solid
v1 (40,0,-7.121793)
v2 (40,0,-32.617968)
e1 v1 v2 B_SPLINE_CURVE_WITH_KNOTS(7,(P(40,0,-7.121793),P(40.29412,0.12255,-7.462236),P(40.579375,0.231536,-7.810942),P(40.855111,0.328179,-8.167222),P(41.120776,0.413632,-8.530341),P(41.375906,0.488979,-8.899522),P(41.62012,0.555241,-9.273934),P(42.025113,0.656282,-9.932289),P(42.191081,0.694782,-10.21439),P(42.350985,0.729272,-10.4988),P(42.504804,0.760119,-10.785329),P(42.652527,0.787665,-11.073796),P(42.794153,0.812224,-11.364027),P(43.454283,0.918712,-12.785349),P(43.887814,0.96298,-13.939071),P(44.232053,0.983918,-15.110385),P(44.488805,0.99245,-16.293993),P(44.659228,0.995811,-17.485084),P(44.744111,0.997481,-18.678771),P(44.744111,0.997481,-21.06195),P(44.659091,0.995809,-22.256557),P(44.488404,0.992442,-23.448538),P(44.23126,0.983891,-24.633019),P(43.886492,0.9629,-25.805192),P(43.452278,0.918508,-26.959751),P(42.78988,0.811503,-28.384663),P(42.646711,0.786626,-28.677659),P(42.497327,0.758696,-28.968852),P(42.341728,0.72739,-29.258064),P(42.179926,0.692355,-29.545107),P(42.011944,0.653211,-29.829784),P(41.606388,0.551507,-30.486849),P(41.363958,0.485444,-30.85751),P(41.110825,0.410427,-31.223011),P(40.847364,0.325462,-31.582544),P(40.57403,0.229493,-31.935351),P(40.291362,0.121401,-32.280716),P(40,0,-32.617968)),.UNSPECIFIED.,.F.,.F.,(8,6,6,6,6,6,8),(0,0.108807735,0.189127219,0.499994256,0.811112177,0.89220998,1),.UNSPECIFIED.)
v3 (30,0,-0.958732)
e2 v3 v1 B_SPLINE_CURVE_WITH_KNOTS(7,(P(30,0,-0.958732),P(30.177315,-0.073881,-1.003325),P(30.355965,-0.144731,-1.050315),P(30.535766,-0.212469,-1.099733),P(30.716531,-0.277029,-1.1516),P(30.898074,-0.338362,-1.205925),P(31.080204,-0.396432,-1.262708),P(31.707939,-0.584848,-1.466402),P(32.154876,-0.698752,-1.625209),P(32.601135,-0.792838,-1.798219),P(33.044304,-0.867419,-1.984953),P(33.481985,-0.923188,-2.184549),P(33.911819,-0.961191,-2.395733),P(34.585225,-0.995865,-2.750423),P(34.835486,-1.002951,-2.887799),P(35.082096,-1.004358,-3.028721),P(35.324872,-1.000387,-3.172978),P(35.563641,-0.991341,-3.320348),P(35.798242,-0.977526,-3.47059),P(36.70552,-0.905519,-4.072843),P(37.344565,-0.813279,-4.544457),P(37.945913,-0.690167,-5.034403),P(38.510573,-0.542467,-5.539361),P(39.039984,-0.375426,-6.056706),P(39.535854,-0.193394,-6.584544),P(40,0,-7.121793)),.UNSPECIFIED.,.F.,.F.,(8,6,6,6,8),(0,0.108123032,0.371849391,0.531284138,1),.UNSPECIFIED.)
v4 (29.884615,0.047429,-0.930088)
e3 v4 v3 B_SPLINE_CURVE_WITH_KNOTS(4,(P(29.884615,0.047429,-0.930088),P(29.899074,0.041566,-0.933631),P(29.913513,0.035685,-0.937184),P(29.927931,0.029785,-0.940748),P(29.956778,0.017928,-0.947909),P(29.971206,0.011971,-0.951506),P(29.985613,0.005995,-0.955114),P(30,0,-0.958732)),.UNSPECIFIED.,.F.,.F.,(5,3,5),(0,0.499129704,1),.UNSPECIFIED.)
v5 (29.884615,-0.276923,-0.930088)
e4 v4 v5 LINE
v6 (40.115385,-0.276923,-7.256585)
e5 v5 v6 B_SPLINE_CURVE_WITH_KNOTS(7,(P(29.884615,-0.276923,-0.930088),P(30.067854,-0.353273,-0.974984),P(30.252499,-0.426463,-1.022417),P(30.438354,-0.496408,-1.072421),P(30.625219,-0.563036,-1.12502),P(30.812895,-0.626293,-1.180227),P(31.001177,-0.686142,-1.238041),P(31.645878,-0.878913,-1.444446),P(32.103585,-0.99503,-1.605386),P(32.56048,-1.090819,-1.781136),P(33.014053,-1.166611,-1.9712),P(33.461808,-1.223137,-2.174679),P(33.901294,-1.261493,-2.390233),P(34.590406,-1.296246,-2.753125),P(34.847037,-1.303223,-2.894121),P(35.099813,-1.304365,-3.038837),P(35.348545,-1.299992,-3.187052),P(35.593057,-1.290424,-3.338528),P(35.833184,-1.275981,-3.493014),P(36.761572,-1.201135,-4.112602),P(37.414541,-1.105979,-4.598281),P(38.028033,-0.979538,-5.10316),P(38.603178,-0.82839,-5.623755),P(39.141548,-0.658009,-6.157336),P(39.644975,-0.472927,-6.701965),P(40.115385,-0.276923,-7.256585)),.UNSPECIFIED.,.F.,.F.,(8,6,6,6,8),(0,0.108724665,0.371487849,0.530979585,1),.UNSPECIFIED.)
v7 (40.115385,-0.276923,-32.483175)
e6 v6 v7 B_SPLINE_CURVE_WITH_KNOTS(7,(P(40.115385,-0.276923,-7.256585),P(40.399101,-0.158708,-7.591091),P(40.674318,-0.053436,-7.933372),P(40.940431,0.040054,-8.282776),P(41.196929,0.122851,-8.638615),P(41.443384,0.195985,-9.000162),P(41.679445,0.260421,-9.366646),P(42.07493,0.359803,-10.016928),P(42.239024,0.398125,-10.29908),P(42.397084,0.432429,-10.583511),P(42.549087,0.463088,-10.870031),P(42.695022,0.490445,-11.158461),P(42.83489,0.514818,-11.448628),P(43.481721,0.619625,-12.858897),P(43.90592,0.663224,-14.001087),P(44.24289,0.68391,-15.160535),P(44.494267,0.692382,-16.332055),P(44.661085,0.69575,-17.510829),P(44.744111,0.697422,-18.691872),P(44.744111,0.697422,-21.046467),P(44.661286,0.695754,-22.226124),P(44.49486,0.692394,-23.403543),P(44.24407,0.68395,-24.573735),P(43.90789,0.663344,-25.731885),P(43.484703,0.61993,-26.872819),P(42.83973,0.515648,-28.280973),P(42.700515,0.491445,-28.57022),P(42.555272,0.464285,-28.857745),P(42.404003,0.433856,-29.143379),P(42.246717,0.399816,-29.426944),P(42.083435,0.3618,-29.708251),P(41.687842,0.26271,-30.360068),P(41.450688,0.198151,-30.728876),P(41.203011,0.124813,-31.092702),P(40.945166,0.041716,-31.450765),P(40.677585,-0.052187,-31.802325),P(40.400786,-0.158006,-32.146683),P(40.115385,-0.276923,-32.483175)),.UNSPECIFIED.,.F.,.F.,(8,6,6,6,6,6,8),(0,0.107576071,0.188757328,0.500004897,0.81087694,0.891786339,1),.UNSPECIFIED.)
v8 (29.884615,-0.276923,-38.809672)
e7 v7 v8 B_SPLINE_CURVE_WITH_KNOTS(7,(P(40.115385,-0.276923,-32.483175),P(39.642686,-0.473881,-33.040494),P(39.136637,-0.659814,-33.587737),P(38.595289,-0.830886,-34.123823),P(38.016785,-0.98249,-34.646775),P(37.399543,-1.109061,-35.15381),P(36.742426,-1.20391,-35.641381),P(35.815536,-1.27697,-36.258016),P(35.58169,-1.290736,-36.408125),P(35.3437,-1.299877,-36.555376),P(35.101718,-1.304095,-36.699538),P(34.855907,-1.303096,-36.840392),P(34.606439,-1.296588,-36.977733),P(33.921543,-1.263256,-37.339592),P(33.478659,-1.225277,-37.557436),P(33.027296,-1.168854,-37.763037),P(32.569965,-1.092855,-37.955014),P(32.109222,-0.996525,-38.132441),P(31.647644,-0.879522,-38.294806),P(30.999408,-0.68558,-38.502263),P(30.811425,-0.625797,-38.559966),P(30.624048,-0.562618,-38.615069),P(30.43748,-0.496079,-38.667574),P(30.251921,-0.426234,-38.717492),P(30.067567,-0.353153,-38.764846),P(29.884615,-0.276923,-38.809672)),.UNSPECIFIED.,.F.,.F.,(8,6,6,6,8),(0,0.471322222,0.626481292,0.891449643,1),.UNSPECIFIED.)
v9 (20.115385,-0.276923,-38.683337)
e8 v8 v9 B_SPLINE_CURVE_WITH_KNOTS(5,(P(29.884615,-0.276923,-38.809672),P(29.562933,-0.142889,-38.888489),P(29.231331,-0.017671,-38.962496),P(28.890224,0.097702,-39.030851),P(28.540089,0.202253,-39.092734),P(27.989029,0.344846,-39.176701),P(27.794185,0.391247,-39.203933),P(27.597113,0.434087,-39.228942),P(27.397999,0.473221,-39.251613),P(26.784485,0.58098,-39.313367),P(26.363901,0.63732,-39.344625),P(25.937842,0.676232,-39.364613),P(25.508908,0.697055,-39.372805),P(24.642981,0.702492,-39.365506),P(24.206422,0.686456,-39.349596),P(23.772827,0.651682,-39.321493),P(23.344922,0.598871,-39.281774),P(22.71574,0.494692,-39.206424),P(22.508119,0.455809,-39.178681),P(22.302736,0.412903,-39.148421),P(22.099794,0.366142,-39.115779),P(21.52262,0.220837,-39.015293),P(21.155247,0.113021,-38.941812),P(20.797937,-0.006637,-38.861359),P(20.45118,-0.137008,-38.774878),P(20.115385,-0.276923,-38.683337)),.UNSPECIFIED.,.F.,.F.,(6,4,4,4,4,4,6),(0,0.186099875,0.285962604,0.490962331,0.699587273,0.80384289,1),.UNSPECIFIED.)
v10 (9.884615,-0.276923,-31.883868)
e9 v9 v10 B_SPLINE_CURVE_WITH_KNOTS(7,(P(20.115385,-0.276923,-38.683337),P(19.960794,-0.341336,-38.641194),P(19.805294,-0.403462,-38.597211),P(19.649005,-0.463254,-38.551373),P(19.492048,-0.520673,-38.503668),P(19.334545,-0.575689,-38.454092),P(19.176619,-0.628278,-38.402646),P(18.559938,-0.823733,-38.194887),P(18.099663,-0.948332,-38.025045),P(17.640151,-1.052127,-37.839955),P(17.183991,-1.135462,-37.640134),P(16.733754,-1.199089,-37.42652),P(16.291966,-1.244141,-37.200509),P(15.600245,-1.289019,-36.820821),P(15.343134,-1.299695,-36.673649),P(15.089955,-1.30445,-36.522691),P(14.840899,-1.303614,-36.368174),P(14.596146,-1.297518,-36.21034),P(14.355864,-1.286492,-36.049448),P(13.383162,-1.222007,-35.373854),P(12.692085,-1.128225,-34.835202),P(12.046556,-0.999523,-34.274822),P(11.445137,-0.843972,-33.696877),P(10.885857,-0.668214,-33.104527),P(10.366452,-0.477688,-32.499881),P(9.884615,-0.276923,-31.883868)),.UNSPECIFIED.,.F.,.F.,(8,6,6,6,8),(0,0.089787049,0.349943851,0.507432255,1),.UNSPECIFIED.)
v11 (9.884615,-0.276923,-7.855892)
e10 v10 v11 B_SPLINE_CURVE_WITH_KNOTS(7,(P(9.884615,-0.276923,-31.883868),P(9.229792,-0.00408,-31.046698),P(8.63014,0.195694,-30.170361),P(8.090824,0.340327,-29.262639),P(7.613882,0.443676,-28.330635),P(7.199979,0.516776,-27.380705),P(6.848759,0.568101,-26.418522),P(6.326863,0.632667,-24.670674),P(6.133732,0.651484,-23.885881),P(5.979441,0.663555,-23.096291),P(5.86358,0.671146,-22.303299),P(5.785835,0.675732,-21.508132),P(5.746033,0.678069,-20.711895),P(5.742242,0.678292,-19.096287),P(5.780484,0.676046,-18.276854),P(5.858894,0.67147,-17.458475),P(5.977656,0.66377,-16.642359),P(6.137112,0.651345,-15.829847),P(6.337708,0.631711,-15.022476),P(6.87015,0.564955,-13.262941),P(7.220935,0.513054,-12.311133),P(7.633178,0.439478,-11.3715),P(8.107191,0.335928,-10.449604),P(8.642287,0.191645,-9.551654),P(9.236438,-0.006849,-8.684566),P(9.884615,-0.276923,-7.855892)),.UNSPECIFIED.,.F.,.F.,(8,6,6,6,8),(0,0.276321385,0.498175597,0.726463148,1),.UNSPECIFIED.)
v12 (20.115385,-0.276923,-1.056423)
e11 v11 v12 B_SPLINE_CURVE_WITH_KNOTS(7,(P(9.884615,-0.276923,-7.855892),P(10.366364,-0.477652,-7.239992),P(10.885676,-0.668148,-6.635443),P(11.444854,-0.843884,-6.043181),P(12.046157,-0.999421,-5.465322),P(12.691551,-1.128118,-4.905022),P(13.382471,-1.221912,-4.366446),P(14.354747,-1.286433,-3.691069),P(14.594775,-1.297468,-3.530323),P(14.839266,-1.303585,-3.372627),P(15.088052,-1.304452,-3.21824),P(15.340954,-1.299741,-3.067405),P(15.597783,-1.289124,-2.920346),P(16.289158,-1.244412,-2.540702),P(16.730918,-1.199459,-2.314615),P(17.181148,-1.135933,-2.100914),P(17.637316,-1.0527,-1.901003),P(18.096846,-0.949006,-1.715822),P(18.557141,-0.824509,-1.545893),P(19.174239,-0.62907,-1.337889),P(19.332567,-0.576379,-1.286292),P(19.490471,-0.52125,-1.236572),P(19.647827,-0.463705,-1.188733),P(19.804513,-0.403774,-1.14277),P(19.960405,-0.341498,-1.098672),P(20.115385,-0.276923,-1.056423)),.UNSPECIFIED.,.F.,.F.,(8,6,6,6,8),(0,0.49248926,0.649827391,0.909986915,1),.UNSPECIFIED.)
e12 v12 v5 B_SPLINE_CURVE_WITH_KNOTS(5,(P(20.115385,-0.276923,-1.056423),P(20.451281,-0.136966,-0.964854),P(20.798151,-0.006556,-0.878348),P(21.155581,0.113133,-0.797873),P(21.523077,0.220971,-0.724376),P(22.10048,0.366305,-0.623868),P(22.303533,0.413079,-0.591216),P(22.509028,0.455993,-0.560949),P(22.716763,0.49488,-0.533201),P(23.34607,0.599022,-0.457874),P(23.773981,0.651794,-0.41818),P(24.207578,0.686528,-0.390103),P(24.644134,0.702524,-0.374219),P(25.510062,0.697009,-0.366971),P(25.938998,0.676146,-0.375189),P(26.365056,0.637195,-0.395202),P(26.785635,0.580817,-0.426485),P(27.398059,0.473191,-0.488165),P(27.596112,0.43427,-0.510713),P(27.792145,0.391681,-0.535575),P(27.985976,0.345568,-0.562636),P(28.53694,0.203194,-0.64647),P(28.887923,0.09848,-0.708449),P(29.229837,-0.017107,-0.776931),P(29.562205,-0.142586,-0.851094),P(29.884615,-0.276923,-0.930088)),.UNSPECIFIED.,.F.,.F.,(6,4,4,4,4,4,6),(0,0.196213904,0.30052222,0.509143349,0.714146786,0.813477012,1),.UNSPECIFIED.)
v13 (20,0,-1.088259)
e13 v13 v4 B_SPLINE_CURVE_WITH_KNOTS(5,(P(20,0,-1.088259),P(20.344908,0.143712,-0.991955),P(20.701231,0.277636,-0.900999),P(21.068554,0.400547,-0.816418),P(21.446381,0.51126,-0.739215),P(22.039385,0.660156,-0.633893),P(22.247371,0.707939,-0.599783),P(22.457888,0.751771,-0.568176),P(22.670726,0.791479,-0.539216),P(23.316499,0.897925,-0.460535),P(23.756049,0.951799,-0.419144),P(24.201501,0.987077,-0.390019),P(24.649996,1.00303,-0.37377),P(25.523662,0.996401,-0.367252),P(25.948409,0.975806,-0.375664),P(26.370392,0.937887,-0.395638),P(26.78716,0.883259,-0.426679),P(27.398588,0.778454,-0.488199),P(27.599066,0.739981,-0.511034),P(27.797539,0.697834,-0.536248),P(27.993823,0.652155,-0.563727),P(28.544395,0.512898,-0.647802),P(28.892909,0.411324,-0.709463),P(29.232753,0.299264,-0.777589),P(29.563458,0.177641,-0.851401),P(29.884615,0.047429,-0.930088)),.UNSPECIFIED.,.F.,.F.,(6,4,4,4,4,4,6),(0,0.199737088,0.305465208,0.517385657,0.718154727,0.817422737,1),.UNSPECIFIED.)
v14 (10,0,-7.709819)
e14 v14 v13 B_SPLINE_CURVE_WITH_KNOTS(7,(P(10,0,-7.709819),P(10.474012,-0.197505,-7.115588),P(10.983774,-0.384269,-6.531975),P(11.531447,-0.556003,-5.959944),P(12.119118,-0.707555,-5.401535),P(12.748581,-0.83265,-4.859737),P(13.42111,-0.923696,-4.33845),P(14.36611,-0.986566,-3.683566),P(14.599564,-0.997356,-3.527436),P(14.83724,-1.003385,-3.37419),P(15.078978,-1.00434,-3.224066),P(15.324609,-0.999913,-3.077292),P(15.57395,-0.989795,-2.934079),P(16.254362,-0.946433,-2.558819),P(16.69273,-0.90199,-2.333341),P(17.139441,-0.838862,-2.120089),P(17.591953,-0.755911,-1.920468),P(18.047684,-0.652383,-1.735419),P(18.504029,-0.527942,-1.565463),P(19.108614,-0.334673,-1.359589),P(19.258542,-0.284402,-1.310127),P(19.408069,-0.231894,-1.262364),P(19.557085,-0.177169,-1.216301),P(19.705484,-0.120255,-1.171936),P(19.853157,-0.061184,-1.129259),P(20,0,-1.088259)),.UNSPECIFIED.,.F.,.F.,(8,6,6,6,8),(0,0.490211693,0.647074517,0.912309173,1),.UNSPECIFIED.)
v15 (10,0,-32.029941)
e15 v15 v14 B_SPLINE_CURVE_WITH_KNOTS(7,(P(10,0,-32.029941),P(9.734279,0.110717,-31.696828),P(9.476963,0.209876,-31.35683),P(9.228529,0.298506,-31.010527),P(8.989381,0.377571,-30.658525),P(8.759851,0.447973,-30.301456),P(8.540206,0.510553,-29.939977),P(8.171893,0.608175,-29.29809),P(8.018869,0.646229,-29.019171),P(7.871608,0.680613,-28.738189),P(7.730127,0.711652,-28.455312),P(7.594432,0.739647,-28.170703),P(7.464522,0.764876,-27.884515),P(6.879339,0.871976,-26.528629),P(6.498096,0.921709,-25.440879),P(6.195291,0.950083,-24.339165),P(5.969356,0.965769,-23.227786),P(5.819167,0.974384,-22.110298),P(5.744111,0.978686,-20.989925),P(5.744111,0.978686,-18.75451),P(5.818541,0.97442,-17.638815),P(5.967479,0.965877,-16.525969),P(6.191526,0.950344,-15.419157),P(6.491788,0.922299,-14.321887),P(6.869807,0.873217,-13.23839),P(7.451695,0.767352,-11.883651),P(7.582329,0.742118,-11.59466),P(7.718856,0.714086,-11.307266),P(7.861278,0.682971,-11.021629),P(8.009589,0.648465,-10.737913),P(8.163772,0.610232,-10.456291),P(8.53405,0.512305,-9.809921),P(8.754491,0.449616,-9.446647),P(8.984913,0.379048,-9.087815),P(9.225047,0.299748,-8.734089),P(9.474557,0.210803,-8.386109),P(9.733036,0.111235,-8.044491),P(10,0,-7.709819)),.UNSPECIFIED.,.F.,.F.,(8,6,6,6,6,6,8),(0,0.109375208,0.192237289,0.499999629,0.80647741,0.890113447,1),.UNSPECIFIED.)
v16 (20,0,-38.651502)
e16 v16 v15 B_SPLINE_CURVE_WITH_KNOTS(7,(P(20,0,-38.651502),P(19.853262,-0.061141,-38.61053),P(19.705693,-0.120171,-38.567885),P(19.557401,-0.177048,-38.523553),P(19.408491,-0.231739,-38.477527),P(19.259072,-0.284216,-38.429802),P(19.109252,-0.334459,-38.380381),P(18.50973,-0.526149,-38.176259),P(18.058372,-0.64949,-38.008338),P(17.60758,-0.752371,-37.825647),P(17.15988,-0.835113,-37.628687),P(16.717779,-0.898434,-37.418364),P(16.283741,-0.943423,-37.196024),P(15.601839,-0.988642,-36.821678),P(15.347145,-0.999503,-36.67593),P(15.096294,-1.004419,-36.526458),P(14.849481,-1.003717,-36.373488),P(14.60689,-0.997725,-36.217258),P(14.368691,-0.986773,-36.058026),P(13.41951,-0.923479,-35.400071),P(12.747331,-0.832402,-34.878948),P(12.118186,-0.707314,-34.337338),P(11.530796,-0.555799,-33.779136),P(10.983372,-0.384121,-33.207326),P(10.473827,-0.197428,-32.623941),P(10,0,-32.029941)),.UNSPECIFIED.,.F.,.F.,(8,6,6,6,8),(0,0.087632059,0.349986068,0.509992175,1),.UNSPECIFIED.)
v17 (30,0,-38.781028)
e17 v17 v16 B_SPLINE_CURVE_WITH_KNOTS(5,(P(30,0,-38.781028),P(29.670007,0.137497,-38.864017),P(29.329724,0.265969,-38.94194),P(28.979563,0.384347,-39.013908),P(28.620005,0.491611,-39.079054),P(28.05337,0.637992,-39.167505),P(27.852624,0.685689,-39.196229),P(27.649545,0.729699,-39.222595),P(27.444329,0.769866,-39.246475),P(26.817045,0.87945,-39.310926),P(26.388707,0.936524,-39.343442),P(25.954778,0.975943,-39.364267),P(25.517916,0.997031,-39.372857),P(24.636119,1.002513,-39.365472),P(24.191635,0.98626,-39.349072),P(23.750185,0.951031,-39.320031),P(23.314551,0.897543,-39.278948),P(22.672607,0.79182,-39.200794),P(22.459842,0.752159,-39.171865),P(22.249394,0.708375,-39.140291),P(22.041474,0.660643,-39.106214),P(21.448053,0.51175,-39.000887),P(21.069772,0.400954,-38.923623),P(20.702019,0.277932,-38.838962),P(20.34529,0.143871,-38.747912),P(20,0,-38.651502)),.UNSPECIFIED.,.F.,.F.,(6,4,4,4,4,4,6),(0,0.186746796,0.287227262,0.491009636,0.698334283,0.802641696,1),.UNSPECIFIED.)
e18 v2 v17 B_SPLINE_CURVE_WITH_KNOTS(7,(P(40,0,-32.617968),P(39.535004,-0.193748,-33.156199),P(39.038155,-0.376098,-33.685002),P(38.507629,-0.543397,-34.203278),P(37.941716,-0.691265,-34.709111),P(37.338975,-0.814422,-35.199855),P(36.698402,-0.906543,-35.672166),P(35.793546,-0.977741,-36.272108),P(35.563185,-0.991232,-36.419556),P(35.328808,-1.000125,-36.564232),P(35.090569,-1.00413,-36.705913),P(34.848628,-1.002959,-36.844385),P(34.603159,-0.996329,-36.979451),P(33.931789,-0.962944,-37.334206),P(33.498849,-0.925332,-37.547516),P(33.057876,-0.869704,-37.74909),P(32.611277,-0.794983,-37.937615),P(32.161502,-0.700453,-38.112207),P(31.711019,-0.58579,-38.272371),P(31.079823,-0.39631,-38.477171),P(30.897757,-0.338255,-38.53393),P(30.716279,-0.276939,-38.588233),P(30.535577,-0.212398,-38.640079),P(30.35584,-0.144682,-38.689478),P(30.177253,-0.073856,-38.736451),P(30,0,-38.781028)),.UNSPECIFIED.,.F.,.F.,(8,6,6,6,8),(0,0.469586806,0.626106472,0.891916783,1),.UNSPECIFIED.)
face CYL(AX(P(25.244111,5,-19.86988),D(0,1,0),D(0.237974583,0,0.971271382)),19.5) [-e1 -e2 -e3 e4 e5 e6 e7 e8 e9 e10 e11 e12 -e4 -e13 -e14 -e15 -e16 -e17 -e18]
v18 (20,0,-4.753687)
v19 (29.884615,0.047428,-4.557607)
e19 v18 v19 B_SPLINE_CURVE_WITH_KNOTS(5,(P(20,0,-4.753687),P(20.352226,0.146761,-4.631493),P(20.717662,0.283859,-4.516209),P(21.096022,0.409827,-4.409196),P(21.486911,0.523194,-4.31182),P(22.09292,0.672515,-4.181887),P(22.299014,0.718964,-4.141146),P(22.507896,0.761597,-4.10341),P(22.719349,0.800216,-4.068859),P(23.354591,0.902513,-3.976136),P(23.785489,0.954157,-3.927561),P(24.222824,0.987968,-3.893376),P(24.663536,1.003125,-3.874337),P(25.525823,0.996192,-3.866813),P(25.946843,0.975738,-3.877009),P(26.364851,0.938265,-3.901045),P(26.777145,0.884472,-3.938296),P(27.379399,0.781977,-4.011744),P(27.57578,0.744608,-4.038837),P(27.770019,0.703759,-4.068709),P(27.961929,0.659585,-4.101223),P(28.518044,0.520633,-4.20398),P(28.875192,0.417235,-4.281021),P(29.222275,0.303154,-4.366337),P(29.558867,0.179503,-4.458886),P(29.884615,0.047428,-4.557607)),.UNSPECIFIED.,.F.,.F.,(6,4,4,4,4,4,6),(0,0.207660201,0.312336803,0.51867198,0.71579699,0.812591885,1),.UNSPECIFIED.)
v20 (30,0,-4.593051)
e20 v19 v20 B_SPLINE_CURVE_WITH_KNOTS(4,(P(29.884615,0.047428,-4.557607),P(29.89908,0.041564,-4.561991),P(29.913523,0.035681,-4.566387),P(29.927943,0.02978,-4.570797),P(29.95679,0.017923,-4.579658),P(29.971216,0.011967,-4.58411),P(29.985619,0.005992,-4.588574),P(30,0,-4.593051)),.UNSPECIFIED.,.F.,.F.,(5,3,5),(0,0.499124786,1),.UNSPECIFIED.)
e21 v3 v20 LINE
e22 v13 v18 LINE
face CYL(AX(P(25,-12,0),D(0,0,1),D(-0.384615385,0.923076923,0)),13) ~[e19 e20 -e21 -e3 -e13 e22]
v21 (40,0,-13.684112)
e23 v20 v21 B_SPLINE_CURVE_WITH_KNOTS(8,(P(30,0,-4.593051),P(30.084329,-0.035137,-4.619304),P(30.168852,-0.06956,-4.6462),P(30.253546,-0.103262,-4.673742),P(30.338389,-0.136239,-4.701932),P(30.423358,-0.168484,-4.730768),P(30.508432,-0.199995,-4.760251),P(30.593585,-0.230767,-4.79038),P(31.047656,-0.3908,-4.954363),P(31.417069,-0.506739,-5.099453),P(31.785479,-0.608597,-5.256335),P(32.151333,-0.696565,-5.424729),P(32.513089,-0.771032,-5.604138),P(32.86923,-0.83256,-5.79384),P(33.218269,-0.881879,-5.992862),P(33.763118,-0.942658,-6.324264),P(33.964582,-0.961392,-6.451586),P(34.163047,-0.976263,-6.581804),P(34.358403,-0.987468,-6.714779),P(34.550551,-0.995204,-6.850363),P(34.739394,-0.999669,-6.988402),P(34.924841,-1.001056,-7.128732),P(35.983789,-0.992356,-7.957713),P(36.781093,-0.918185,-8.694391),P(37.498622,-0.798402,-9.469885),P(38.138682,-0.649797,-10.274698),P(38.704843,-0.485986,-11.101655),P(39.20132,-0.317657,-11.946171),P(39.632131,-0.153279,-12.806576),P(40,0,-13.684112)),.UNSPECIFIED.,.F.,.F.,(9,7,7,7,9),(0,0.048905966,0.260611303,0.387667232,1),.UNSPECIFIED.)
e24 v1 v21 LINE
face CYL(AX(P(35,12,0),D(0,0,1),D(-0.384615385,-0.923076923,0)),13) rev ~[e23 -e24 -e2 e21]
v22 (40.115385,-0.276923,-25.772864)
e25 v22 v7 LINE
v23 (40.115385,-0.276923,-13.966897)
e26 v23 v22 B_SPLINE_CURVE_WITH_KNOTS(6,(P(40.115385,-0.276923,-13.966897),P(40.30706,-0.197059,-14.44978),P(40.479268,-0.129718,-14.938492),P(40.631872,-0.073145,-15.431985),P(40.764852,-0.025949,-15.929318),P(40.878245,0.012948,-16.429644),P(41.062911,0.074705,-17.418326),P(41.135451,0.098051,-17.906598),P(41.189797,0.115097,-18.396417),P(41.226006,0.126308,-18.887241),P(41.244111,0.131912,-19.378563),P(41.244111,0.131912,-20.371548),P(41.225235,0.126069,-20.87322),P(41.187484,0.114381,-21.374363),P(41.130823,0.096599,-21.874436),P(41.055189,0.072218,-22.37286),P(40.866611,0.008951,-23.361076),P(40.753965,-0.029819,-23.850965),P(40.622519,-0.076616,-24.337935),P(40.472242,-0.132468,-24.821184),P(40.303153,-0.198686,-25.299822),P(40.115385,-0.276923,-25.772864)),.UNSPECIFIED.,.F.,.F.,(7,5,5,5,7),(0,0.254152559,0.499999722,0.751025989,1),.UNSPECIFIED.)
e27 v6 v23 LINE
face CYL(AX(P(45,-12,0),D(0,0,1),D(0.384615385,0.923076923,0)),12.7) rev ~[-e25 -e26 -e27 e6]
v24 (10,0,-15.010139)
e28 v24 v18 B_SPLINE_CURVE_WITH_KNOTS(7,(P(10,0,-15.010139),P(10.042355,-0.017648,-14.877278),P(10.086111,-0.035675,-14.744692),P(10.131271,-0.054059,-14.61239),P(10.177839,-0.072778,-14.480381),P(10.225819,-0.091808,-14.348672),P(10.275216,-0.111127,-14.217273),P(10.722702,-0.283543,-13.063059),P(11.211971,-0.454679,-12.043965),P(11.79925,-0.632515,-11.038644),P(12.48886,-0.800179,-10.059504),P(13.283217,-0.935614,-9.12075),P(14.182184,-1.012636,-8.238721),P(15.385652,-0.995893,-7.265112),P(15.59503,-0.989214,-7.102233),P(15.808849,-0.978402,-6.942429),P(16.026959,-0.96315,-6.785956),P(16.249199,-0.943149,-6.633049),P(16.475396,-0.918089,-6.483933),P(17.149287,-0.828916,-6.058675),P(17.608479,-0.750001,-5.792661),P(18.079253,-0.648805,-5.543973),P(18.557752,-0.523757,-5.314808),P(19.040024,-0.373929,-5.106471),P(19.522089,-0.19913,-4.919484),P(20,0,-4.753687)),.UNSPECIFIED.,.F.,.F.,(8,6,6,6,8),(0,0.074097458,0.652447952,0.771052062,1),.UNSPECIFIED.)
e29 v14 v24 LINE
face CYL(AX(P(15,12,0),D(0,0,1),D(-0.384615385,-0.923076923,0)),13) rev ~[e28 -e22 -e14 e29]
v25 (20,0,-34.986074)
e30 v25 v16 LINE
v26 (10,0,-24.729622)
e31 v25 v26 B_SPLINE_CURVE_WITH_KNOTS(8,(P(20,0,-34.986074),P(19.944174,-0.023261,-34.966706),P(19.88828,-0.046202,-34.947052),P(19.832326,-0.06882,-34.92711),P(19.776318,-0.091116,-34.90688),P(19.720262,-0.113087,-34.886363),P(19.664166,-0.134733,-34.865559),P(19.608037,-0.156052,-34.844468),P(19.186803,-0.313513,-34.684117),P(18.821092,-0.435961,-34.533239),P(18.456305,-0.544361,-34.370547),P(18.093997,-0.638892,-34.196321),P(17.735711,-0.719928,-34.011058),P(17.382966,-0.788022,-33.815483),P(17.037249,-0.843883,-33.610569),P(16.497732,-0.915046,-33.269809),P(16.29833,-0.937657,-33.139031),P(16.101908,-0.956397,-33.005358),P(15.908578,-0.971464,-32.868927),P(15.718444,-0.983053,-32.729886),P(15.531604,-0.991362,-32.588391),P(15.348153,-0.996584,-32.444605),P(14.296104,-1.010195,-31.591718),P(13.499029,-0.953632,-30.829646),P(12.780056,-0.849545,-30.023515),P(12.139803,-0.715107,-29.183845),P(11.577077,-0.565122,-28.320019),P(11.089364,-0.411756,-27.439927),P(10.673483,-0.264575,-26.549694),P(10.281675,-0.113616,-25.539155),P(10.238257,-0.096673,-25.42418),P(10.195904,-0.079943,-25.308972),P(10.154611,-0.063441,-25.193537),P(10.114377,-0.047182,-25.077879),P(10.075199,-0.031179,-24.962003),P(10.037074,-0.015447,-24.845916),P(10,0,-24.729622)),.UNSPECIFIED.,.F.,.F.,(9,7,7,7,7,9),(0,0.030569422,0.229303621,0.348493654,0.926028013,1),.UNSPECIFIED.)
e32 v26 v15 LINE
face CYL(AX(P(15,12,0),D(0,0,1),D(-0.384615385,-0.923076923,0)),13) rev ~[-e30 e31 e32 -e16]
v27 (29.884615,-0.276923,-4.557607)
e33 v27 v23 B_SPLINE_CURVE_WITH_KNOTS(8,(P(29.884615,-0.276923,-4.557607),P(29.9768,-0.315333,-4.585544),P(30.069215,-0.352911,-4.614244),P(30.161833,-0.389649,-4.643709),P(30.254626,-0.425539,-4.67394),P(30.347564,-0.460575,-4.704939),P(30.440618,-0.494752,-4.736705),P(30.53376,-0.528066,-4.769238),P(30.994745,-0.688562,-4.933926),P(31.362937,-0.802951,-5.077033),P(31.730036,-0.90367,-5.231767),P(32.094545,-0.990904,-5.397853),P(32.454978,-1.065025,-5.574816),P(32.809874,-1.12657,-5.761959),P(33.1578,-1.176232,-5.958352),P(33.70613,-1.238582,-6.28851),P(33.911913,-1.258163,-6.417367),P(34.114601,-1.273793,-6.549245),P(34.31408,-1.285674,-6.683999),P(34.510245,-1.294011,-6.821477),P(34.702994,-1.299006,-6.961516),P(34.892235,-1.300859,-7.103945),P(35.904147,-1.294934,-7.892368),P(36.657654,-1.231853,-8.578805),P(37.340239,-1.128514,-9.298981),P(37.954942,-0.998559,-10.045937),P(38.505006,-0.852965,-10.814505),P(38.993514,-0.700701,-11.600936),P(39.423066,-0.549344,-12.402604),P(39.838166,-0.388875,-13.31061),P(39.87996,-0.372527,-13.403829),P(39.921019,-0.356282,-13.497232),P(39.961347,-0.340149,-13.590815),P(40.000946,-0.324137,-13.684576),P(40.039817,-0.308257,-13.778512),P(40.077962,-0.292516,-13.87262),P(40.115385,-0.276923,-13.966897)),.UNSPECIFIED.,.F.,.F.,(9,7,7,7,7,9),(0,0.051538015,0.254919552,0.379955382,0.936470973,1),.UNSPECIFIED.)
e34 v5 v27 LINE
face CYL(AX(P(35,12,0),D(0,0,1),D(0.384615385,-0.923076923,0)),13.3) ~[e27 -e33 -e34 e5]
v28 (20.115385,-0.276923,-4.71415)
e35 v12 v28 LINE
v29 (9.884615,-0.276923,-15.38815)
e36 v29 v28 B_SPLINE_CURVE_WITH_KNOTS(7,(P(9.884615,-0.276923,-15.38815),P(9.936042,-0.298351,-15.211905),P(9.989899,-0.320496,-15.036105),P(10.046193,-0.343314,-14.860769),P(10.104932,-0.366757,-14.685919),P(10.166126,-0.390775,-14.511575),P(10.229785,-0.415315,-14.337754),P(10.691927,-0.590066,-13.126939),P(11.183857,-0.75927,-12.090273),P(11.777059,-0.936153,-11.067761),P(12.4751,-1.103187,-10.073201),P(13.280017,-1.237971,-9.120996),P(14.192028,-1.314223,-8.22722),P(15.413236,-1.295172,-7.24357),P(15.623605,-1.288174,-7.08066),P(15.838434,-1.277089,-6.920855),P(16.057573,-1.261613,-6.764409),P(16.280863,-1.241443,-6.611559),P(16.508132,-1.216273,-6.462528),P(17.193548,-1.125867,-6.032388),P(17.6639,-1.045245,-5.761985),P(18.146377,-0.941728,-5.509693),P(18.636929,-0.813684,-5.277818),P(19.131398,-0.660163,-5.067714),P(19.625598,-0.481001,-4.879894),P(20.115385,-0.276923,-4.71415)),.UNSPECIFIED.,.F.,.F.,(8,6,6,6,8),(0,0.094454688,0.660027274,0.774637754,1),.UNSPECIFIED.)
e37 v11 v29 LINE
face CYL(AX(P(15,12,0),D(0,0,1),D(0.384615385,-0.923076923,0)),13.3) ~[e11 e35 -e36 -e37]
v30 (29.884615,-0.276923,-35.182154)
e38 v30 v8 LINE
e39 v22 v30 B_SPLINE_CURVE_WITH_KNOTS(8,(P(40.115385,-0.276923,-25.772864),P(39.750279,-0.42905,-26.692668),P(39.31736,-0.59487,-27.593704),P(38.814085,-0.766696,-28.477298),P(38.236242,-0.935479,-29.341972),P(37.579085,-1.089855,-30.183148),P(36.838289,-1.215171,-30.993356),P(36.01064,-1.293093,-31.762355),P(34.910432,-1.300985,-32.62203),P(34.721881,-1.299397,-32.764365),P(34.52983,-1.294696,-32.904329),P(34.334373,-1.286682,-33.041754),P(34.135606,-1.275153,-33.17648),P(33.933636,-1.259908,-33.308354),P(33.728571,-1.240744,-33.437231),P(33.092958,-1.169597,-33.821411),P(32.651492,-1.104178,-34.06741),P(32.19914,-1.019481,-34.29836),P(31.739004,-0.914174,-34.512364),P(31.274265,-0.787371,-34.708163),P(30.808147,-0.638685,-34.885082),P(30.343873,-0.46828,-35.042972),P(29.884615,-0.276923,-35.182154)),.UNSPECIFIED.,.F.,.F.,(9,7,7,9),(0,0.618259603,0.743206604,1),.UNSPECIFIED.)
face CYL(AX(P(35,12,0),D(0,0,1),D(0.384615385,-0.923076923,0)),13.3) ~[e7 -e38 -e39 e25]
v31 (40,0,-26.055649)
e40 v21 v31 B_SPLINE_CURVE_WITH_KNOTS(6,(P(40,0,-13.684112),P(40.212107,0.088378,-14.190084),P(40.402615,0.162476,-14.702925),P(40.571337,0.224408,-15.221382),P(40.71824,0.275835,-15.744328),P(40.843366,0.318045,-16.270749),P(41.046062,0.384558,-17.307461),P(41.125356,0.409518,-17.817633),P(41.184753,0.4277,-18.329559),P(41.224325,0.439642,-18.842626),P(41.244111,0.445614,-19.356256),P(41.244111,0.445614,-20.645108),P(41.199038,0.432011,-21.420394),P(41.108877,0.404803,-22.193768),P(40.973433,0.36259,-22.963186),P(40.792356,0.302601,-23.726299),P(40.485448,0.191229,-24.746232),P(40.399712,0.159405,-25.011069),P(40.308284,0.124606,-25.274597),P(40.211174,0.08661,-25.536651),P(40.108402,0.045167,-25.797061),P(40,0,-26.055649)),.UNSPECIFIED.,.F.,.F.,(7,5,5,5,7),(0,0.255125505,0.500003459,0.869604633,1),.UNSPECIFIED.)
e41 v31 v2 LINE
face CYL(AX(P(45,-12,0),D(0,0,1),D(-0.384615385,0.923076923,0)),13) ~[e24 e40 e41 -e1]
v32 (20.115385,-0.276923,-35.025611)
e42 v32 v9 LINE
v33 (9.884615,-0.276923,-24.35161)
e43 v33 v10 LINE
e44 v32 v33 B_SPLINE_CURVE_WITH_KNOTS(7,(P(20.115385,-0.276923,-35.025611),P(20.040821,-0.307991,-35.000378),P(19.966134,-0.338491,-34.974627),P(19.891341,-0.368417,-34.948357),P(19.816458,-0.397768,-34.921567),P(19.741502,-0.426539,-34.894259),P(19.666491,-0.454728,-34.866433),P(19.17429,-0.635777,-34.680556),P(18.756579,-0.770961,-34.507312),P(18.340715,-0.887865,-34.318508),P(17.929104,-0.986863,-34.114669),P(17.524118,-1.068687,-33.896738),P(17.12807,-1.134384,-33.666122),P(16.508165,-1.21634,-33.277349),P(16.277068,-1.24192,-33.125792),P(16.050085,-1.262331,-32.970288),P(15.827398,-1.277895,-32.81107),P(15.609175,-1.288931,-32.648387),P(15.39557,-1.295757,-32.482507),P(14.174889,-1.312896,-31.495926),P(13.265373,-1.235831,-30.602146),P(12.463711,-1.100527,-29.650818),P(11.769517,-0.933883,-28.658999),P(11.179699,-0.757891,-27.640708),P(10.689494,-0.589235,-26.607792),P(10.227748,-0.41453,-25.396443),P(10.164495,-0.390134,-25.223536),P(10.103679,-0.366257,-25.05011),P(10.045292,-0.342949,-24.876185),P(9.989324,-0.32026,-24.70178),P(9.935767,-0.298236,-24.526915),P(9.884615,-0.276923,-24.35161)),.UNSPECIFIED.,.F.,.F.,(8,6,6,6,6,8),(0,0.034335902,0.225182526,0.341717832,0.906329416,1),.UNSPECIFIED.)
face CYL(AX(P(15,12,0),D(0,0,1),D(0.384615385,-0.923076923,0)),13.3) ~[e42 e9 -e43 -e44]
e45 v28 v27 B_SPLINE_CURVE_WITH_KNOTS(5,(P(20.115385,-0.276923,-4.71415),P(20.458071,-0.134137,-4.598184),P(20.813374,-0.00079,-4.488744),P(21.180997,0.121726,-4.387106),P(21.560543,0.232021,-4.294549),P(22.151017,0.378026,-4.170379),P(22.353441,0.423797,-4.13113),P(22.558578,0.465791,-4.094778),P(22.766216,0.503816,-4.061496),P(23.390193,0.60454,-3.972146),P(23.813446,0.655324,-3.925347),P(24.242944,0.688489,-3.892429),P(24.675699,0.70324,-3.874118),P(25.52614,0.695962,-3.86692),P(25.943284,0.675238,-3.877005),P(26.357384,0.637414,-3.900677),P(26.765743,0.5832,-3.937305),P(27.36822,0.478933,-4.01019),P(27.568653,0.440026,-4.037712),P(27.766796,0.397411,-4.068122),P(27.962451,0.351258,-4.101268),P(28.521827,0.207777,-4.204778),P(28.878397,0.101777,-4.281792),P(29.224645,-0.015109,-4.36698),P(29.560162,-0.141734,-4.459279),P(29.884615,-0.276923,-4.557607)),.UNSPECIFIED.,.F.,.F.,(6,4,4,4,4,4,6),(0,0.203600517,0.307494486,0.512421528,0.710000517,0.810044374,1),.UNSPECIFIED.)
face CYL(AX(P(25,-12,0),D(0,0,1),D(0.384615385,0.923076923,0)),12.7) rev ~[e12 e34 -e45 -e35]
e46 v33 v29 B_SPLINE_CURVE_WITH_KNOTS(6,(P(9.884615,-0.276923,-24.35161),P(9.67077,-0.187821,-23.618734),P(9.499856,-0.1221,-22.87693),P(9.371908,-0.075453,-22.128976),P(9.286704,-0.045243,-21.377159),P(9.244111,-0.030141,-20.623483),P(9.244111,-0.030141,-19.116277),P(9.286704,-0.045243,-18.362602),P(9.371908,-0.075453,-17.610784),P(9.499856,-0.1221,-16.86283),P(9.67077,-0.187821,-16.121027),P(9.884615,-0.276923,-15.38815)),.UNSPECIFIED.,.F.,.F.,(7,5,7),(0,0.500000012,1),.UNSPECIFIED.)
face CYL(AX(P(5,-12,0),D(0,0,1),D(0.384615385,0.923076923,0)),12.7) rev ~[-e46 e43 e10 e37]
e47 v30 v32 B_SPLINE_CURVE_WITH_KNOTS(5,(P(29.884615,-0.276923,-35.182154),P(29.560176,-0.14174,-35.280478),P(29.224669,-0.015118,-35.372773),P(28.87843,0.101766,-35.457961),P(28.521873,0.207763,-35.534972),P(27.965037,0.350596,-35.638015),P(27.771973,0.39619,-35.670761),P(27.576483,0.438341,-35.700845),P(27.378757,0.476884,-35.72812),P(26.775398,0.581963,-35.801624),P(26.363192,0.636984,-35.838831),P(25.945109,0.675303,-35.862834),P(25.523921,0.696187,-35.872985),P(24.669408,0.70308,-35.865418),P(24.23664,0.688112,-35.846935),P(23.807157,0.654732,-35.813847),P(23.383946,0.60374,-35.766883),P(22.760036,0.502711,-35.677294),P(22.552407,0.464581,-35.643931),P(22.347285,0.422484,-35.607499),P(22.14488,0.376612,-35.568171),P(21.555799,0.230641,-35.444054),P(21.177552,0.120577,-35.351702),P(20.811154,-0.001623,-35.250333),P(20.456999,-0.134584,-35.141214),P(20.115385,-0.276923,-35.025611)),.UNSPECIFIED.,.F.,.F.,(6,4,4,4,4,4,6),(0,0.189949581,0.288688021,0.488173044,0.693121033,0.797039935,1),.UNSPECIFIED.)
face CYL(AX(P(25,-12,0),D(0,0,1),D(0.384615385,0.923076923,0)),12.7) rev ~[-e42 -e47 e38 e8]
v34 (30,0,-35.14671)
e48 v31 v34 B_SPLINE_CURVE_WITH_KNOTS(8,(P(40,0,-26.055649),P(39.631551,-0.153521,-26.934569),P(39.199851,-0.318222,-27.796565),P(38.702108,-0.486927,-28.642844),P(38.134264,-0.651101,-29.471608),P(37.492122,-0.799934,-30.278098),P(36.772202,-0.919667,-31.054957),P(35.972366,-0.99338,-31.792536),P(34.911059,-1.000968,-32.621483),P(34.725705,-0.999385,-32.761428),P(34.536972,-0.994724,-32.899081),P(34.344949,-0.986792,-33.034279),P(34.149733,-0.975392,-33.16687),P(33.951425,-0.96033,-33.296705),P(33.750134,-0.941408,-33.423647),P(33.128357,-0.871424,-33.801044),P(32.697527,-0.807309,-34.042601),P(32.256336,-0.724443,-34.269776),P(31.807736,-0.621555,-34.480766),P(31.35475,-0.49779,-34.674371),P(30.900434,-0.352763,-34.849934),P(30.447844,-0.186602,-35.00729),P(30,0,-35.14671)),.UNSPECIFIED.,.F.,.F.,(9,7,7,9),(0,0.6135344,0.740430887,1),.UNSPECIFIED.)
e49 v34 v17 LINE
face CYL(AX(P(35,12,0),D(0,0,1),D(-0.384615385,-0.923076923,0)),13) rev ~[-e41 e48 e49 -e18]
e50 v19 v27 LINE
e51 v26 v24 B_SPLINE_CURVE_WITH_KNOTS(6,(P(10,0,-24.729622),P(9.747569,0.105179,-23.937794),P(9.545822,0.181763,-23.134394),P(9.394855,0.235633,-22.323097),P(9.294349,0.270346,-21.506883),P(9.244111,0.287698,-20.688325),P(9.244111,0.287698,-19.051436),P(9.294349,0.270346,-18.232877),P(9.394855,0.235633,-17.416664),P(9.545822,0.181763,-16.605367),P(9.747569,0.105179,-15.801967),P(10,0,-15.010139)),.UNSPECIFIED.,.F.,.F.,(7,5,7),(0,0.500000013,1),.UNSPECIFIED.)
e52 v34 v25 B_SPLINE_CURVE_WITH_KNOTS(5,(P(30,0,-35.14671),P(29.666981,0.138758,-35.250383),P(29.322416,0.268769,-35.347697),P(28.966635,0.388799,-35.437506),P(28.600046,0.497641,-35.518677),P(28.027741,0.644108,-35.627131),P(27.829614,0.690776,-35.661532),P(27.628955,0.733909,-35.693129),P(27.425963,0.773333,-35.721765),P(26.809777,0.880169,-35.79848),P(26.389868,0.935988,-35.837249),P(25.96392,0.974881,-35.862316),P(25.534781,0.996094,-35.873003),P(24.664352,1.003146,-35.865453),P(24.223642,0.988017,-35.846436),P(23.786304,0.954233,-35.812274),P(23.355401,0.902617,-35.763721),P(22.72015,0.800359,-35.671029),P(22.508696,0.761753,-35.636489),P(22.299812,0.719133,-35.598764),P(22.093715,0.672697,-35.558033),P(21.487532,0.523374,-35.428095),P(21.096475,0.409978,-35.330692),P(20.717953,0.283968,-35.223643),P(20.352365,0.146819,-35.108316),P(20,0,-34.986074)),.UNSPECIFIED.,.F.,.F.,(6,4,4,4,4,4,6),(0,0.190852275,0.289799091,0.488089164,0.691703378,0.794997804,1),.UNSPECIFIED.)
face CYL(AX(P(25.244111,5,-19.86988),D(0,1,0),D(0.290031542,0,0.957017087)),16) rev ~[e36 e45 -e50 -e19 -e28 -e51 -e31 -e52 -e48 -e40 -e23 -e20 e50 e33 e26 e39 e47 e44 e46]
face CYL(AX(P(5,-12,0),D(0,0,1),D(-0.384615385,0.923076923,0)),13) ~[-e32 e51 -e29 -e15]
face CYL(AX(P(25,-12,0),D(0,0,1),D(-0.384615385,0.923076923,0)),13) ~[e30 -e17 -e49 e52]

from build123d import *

# Parameters (mm, degrees)
EXTRU_MINCE1_DEPTH      = 40
ESQUISSE2_OUTSIDE_W     = 64.814
ESQUISSE2_OUTSIDE_H     = 54.814
ESQUISSE2_OUTSIDE_R     = 19.5
ESQUISSE2_OUTSIDE_R_2   = 16
ENL_V_MAT_EXTRU_1_DEPTH = 40


with BuildPart() as part:
    # Esquisse1 → Extru.-Mince1 (new body)
    with BuildSketch(Plane.XY):
        with BuildLine():
            ThreePointArc((0, 0), (5, 1), (10, 0))
            ThreePointArc((10, 0), (15, -1), (20, 0))
            ThreePointArc((20, 0), (25, 1), (30, 0))
            ThreePointArc((30, 0), (35, -1), (40, 0))
            ThreePointArc((40, 0), (45, 1), (50, 0))
            Line((50, 0), (49.884615385, -0.276923077))
            ThreePointArc((49.884615385, -0.276923077), (45, 0.7), (40.115384615, -0.276923077))
            ThreePointArc((40.115384615, -0.276923077), (35, -1.3), (29.884615385, -0.276923077))
            ThreePointArc((29.884615385, -0.276923077), (25, 0.7), (20.115384615, -0.276923077))
            ThreePointArc((20.115384615, -0.276923077), (15, -1.3), (9.884615385, -0.276923077))
            ThreePointArc((9.884615385, -0.276923077), (5, 0.7), (0.115384615, -0.276923077))
            Line((0.115384615, -0.276923077), (0, 0))
        make_face()
    extrude(amount=-EXTRU_MINCE1_DEPTH)

    # Esquisse2 outside → Enlèv. mat.-Extru.1 (cut)
    # profile 1 of 2: a face of its own
    with BuildSketch(Plane(origin=(0, 5, 0), x_dir=(-1, 0, 0), z_dir=(0, 1, 0))):
        with Locations((-25, -20)):
            Rectangle(ESQUISSE2_OUTSIDE_W, ESQUISSE2_OUTSIDE_H)
        with Locations(Location((-25.24411071, -19.869880187, 0), (0, 0, 103.767029359))):
            Circle(ESQUISSE2_OUTSIDE_R, mode=Mode.SUBTRACT)
    # profile 2 of 2: a face of its own
    with BuildSketch(Plane(origin=(0, 5, 0), x_dir=(-1, 0, 0), z_dir=(0, 1, 0))):
        with Locations(Location((-25.24411071, -19.869880187, 0), (0, 0, 106.859844414))):
            Circle(ESQUISSE2_OUTSIDE_R_2)
    extrude(amount=-ENL_V_MAT_EXTRU_1_DEPTH, mode=Mode.SUBTRACT)


solid = part.part
